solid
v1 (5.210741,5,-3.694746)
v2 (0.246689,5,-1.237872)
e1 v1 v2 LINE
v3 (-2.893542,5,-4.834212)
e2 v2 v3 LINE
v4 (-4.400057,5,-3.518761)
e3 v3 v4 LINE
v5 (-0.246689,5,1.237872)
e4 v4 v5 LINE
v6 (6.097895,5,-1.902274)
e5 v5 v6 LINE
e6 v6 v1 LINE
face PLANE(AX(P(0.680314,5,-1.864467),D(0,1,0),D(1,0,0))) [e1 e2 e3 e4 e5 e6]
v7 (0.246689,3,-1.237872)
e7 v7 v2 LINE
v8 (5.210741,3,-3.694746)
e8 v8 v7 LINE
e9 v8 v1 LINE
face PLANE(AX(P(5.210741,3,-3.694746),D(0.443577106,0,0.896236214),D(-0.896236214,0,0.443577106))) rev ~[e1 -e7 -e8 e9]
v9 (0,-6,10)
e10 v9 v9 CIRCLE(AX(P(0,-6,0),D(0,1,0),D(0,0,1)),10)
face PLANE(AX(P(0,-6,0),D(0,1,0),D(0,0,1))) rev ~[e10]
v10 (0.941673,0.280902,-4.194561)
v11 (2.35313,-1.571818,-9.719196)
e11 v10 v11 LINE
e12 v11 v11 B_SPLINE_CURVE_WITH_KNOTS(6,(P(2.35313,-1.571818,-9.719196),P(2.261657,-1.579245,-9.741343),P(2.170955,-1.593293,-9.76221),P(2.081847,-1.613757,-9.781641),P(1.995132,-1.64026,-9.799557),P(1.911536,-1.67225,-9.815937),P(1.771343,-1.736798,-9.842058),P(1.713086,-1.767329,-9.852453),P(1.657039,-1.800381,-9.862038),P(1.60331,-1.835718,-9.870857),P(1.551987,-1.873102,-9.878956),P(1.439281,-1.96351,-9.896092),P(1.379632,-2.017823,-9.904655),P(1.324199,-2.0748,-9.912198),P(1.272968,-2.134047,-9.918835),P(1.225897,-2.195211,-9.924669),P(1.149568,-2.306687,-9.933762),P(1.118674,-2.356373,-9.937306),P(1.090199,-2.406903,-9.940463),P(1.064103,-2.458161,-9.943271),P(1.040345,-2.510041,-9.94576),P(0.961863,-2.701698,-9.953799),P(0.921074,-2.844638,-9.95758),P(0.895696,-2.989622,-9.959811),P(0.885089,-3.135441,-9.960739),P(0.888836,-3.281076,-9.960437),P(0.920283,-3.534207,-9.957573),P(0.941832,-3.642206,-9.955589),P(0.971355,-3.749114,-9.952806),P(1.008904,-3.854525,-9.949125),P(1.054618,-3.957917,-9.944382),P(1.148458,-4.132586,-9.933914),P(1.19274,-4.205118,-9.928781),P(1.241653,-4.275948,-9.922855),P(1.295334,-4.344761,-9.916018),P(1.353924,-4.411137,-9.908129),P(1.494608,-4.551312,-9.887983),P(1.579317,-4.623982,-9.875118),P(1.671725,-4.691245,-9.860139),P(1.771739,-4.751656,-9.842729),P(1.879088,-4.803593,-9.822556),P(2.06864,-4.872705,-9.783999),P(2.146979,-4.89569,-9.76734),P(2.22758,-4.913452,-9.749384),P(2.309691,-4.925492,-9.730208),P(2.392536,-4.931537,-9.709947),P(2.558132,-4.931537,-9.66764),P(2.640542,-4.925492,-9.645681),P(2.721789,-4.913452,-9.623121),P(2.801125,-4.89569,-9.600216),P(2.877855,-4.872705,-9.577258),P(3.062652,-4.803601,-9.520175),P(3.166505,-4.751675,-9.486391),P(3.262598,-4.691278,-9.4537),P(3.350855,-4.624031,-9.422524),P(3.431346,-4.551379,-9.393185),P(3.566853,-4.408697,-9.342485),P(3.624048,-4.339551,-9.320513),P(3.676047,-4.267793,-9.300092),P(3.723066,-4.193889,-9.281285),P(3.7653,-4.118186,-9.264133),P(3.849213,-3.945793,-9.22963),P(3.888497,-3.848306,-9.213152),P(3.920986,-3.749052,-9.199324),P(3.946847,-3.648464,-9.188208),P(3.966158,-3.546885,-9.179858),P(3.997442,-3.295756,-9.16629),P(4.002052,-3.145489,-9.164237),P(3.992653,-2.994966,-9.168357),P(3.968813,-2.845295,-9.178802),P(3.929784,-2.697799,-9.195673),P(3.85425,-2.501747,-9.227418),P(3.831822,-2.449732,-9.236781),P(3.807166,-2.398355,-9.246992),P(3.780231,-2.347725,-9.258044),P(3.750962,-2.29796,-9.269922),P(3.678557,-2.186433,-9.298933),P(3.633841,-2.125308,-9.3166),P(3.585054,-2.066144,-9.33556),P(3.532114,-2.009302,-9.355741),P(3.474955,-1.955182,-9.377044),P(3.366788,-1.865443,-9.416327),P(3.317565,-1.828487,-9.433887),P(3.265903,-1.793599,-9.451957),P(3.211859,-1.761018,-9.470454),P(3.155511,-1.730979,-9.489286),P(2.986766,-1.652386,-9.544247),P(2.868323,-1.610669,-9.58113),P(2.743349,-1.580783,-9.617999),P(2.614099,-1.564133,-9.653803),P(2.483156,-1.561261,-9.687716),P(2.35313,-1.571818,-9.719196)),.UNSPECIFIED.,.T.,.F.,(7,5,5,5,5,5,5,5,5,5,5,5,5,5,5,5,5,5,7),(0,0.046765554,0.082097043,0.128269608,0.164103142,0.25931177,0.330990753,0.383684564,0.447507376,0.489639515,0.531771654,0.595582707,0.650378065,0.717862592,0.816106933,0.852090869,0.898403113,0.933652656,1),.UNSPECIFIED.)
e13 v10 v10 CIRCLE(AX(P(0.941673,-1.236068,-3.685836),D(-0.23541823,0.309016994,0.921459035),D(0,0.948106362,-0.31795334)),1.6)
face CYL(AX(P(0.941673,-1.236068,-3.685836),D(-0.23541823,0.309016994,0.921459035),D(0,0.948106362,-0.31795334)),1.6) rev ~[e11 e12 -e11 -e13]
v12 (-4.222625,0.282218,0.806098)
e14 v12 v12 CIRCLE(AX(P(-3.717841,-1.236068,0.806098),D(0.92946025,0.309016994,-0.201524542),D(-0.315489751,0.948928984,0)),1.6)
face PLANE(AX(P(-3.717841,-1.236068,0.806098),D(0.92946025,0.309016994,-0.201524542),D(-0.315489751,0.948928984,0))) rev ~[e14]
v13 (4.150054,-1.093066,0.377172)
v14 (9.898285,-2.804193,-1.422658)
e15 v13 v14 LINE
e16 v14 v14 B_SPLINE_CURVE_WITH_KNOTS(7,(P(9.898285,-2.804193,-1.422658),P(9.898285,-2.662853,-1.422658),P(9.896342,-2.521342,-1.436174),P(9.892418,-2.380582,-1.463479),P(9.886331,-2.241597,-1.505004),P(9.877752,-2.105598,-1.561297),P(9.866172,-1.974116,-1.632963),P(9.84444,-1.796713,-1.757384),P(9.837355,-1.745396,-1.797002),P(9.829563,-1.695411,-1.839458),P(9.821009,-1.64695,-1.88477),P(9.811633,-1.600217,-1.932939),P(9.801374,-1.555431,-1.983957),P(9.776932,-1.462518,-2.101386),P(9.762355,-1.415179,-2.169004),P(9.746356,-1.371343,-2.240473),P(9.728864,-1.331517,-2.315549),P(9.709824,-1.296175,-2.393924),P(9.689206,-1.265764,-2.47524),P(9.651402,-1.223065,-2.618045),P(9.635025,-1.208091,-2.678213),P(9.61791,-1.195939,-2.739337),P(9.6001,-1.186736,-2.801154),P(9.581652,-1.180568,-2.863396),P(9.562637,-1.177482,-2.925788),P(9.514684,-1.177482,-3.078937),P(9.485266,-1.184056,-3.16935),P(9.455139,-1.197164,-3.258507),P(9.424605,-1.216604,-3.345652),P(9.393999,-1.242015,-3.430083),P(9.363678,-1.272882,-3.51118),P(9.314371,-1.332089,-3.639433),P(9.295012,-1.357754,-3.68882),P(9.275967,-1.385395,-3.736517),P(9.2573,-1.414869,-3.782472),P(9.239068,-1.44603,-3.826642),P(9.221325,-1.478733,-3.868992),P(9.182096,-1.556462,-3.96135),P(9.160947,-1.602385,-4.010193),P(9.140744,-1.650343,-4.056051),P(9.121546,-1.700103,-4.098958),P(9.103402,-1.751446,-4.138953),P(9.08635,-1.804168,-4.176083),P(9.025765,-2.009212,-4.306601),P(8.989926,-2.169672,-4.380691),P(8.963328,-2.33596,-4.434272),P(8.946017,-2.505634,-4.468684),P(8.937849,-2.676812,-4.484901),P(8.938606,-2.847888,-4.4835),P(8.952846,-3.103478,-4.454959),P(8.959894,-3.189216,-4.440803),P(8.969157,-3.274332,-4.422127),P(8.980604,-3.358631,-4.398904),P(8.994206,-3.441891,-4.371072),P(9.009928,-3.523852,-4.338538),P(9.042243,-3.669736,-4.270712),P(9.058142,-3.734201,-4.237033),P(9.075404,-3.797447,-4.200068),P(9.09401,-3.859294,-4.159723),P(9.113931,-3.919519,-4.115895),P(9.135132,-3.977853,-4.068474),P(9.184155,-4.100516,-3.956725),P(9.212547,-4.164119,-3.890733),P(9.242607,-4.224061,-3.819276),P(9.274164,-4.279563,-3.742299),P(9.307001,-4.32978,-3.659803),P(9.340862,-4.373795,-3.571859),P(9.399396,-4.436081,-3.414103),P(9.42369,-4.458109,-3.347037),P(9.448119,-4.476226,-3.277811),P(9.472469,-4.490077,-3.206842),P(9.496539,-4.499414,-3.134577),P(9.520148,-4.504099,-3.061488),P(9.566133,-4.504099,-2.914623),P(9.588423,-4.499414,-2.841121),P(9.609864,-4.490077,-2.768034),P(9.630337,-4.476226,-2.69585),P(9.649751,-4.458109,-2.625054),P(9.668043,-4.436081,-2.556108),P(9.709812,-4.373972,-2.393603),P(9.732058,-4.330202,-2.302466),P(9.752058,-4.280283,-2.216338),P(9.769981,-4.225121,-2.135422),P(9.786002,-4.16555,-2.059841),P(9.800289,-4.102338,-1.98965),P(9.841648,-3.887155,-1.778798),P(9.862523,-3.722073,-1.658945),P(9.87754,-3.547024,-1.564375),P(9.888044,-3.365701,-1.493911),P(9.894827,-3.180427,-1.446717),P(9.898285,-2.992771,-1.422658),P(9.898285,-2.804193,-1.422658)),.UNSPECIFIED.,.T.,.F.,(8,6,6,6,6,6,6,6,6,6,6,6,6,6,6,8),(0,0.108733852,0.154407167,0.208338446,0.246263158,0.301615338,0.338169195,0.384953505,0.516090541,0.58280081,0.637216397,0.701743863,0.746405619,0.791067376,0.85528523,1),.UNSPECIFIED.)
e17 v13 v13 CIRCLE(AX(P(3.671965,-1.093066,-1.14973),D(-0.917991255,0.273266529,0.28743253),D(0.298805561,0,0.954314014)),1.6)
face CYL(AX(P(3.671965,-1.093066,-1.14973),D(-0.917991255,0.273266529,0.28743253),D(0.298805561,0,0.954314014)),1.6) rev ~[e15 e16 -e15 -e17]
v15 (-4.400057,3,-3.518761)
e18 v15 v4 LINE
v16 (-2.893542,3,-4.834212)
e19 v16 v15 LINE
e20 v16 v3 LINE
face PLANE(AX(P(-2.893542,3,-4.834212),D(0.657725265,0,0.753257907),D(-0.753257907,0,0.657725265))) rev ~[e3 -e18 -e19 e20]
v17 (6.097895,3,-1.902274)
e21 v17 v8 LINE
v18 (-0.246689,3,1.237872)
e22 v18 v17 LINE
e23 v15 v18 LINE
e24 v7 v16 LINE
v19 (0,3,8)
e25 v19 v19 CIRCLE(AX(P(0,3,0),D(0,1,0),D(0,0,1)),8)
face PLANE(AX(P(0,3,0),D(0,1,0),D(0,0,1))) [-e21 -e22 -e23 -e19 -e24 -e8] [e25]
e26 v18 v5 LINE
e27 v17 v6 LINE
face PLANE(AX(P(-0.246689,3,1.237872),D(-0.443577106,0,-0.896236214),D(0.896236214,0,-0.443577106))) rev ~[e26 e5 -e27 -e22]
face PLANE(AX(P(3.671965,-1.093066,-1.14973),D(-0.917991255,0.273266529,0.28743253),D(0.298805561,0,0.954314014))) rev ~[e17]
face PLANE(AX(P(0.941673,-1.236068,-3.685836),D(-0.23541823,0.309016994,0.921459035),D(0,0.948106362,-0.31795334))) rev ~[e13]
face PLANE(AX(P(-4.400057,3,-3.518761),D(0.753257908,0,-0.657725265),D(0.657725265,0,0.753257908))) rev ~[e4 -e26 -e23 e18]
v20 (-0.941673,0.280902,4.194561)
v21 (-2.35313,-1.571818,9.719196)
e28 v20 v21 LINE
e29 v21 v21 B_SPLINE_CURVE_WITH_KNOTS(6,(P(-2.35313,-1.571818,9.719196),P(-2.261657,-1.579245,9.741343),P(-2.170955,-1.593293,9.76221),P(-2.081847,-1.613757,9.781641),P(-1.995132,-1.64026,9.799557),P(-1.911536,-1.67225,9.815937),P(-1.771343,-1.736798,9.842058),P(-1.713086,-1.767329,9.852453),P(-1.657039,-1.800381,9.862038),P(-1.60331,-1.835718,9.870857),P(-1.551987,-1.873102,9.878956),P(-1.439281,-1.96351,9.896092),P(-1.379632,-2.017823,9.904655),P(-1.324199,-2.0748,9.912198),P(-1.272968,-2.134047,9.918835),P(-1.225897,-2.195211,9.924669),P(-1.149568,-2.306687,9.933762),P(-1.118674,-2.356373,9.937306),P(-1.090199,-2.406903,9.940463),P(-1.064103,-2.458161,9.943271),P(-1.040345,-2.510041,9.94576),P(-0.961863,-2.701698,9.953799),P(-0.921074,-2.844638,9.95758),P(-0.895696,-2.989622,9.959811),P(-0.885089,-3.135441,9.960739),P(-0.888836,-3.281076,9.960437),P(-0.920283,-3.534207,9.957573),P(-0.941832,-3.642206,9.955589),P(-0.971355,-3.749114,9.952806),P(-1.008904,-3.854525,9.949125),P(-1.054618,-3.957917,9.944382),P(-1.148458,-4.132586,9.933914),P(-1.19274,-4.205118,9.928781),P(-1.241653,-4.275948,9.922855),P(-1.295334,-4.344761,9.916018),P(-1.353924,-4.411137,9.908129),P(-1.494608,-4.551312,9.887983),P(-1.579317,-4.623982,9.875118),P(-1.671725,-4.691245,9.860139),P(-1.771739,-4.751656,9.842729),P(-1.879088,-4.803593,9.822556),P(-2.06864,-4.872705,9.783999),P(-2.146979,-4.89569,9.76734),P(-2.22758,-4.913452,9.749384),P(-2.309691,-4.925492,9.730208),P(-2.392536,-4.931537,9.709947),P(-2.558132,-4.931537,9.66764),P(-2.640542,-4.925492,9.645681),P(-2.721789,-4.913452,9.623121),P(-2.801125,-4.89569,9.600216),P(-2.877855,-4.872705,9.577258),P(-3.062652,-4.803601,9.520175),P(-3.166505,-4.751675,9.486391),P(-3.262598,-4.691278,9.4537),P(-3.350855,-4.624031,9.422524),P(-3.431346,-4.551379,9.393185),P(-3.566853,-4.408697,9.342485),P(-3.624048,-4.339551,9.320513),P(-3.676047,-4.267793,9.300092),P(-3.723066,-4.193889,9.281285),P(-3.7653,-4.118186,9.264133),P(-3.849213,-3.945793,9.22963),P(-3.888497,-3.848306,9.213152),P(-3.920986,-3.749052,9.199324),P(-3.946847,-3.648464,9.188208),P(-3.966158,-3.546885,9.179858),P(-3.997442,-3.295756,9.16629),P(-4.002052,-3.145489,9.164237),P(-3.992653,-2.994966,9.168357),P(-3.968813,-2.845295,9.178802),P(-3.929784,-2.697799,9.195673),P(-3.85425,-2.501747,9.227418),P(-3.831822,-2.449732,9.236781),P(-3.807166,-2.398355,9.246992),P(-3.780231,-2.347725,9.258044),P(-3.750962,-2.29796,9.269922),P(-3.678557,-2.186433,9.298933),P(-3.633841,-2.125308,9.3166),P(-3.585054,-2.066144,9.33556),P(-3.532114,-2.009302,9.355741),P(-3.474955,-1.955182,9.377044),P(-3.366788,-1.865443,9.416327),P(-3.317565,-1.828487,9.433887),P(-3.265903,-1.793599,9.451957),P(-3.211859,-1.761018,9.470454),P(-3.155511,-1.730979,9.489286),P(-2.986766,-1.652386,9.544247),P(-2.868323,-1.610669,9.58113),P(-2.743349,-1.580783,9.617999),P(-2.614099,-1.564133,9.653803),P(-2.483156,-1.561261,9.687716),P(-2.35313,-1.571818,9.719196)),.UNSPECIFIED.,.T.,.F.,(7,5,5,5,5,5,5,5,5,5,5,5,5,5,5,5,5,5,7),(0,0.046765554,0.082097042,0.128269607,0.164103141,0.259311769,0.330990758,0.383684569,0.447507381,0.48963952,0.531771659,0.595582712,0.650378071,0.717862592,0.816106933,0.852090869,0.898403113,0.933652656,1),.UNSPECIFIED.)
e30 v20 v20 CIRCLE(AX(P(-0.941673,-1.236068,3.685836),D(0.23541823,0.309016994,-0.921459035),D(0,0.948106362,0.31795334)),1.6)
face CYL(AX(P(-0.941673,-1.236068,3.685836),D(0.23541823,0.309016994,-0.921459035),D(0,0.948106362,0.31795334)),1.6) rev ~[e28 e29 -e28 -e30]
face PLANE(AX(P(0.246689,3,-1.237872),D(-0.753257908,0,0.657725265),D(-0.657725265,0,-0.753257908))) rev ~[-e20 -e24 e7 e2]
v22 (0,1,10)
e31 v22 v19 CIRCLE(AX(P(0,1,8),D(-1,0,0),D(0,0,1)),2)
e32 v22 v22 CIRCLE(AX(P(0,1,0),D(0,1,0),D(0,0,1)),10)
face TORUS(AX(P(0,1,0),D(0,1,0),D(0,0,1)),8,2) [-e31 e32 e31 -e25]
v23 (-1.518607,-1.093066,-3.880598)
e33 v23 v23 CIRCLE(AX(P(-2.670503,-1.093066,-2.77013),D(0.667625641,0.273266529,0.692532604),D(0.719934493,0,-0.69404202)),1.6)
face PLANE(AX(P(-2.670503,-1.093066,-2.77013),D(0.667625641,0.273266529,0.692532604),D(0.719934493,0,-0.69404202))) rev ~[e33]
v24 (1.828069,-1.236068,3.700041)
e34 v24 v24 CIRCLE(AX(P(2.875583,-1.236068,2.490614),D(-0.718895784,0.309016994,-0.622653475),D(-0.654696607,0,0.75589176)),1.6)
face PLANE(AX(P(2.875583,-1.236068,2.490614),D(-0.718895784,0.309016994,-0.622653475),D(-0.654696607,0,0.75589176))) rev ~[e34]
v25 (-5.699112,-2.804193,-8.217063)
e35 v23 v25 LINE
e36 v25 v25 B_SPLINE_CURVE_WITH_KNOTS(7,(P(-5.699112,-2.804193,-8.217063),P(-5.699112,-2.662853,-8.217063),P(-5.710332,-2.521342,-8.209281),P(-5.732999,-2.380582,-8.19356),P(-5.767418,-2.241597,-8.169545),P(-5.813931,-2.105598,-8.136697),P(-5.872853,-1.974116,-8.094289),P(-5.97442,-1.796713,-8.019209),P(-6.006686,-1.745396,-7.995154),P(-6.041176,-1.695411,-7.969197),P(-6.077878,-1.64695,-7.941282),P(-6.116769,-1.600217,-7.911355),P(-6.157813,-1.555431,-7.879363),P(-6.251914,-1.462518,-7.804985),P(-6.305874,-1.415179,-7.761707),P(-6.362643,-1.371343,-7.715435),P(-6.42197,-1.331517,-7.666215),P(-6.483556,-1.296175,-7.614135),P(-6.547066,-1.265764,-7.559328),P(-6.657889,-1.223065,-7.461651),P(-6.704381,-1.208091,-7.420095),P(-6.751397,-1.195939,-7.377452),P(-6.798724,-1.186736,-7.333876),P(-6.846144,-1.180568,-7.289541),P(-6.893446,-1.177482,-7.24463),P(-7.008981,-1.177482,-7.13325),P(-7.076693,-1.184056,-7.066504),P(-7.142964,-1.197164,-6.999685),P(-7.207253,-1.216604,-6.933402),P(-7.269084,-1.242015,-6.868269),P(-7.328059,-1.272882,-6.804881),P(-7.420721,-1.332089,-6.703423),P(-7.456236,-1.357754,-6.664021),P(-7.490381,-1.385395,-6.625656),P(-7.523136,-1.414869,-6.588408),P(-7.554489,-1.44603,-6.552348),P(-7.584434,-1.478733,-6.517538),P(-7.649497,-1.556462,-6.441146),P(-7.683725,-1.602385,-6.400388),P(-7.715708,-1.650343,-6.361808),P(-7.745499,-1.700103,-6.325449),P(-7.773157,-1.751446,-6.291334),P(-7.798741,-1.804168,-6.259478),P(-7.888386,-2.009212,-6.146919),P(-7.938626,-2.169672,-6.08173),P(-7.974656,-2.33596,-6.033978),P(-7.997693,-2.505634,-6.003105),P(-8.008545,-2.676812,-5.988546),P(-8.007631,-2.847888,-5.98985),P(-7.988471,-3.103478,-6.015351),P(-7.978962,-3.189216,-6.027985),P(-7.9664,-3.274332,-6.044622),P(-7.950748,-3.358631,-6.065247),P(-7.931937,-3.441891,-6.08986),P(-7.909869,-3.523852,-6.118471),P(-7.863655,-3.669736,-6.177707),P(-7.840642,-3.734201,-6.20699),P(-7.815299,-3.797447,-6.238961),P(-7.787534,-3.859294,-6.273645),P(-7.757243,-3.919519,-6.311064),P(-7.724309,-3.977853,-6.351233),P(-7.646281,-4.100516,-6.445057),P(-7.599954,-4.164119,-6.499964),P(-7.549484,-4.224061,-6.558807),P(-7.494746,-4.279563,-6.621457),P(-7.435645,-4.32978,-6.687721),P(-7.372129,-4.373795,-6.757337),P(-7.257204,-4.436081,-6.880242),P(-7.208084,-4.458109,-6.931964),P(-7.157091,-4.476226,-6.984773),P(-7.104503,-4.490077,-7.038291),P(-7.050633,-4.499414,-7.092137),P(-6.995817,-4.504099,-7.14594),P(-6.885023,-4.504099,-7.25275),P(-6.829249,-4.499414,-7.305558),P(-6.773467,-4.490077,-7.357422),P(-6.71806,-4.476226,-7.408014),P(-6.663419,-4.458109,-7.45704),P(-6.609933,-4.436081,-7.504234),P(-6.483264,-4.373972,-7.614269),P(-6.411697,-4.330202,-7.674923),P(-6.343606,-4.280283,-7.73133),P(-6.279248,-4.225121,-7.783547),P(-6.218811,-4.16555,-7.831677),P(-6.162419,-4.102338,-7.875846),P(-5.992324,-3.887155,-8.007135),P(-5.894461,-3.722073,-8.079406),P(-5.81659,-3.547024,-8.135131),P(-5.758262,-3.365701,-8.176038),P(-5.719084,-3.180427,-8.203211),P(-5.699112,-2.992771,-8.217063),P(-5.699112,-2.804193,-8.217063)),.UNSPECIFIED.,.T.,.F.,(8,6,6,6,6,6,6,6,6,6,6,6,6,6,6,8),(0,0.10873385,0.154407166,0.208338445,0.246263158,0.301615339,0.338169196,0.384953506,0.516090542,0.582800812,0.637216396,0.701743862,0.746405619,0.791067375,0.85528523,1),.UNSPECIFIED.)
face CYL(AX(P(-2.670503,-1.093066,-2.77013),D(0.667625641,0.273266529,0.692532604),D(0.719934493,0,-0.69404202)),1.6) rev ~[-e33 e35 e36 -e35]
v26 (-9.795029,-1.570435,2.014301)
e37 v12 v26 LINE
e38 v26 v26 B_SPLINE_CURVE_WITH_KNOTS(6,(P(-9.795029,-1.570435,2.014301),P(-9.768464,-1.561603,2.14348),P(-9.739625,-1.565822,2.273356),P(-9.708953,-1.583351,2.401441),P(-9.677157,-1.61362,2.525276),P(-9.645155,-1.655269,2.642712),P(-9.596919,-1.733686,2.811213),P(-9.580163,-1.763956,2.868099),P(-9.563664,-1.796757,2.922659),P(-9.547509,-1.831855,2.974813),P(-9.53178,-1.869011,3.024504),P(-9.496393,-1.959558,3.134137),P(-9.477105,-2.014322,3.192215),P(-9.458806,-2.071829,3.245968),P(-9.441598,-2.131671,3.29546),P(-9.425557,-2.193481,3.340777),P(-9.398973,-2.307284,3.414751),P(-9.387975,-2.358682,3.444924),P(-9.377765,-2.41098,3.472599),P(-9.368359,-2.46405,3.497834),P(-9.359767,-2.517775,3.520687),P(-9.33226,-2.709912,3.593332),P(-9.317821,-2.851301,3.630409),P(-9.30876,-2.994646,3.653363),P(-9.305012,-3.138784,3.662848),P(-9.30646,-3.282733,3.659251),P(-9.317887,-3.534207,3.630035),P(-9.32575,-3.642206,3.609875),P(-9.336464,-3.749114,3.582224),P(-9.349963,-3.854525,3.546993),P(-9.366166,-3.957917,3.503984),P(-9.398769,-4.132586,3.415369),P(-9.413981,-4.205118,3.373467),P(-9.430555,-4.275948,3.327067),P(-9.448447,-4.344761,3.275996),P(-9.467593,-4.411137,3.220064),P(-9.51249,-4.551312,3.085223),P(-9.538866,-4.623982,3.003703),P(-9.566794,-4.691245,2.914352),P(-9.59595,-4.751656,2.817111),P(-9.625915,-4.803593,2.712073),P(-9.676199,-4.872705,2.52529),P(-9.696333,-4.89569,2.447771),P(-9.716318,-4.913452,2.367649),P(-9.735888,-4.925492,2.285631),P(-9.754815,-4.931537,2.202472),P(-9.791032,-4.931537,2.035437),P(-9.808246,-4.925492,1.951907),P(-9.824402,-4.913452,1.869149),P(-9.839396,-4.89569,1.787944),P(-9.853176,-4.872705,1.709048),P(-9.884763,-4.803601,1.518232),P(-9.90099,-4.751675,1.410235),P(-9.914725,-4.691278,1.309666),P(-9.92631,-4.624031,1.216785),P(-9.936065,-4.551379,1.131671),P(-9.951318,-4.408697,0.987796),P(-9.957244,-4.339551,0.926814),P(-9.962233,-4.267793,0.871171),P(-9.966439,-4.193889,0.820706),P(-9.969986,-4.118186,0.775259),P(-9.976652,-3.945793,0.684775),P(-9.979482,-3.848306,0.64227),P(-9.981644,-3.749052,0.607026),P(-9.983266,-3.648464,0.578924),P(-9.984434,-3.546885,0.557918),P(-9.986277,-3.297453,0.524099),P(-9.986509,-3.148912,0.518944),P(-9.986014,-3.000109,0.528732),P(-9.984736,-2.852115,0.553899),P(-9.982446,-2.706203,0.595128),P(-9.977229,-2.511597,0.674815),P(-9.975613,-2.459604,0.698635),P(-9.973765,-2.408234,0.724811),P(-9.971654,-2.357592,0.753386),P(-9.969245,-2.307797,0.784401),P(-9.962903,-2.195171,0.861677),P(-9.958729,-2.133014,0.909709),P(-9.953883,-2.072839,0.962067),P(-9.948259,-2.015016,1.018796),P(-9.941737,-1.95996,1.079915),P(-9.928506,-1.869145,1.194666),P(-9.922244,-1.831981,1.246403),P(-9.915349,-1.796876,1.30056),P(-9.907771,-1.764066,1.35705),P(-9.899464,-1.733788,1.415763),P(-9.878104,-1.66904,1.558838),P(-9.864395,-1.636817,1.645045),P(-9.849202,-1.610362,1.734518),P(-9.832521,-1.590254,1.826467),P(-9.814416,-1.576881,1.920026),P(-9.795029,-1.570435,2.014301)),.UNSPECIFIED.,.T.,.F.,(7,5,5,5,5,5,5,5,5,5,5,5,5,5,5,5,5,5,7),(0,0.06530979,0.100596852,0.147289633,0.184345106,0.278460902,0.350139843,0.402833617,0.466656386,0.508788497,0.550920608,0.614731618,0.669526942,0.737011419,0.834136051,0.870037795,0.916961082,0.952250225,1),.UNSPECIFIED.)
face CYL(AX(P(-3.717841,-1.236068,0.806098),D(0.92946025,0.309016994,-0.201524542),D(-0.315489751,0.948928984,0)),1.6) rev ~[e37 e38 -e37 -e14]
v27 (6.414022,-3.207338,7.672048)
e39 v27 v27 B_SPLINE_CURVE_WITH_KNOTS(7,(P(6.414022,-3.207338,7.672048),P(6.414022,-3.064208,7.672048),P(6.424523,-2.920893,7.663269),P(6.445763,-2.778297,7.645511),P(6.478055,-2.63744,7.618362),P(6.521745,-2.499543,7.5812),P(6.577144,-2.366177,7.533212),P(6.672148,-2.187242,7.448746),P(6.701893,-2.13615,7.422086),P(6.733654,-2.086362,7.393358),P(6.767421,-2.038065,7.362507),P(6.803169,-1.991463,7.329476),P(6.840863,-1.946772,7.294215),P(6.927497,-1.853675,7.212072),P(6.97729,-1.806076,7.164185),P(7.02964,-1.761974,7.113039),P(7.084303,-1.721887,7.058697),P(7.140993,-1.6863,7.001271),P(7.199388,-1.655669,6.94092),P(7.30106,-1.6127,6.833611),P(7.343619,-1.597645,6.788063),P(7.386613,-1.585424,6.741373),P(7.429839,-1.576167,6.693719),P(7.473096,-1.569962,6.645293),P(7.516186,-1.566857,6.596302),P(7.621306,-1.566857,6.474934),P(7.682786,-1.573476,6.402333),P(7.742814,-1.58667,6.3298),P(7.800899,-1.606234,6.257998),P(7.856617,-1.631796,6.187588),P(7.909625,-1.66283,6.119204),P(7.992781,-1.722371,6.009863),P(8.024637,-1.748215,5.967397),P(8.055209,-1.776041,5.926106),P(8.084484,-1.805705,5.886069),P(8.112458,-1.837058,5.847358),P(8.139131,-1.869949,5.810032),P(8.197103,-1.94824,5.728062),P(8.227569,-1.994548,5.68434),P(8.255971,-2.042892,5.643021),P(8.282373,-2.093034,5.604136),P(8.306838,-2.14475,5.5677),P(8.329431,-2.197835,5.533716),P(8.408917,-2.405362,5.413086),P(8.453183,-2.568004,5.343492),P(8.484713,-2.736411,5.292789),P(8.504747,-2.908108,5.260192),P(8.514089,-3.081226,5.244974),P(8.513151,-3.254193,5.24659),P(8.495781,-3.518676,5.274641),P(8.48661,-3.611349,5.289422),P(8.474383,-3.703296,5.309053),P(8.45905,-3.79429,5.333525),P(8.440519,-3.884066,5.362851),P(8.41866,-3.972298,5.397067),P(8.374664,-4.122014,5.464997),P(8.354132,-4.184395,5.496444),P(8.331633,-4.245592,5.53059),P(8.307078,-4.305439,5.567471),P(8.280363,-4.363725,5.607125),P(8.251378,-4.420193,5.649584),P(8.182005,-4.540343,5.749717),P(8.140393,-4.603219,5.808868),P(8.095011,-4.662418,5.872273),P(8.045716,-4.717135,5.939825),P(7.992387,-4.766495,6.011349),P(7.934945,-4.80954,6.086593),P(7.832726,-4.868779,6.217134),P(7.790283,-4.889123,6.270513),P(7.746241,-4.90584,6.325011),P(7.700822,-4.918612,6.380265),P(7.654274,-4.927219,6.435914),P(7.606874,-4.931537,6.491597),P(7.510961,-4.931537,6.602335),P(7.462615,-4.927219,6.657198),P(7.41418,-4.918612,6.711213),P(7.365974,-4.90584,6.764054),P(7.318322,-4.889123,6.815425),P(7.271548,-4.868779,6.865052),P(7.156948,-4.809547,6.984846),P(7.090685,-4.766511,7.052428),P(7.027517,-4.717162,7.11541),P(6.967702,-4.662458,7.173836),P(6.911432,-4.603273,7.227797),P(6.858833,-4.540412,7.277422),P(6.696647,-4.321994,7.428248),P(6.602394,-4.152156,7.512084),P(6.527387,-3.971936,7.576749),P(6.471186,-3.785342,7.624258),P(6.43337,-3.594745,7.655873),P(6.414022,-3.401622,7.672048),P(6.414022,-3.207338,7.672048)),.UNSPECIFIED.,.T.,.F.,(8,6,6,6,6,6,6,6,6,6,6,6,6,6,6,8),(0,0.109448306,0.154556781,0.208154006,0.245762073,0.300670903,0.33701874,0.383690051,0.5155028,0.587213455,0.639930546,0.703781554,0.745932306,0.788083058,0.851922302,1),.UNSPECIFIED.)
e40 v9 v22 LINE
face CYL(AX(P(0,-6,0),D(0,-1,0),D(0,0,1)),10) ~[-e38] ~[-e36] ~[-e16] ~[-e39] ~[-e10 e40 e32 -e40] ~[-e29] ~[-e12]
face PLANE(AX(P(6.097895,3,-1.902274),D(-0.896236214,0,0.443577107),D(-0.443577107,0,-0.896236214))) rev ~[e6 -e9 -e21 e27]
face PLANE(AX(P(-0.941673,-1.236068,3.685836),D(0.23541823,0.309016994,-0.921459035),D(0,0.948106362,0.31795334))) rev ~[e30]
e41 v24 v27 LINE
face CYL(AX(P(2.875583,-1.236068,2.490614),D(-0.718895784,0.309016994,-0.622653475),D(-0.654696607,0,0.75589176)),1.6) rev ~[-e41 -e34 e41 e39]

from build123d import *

# Parameters (mm, degrees)
BASE_DEPTH          = 3
BASE_DEPTH_BACK     = 6
SKETCH1_R           = 10
SKETCH3_R           = 1.6
HOLE2_DEPTH         = 19.1581212
HOLE2MIRROR_COUNT   = 2
SKETCH4_R           = 1.6
HOLE3_DEPTH         = 19.100993715
SKETCH5_R           = 1.6
CUT_EXTRUDE1_DEPTH  = 19.311666101
SKETCH6_R           = 1.6
CUT_EXTRUDE2_DEPTH  = 19.560472272
SKETCH7_R           = 1.6
CUT_EXTRUDE3_DEPTH  = 19.646604846
FILLET1_R           = 2
EXTRUDE_THIN1_DEPTH = 2


with BuildPart() as part:
    # Sketch1 → base (new, two sides: drawn at the far end of the back side and taken through both)
    with BuildSketch(Plane(origin=(0, 0, 0), x_dir=(1, 0, 0), z_dir=(0, 1, 0)).offset(-BASE_DEPTH_BACK)):
        Circle(SKETCH1_R)
    extrude(amount=BASE_DEPTH + BASE_DEPTH_BACK)

    # Sketch3 → hole2 (cut, through all)
    with BuildSketch(Plane(origin=(-0.941672921, -1.236067977, 3.685836142), x_dir=(-0.9718935871364875, 0.07382318789513377, -0.22354639834264944), z_dir=(0.23541823021467095, 0.3090169943749464, -0.921459035481267))):
        Circle(SKETCH3_R)
    hole2 = extrude(amount=-HOLE2_DEPTH, mode=Mode.SUBTRACT)

    # hole2mirror: hole2 ×2 about axis
    hole2mirror_axis = Axis((0, 5.5, 0), (0, -1, 0))
    for i in range(1, HOLE2MIRROR_COUNT):
        add(hole2.rotate(hole2mirror_axis, i * 360 / HOLE2MIRROR_COUNT), mode=Mode.SUBTRACT)

    # Sketch4 → hole3 (cut, through all)
    with BuildSketch(Plane(origin=(-3.717841, -1.236067977, 0.806098168), x_dir=(-0.19123247894507908, -0.06357892752956036, -0.979483465389136), z_dir=(0.9294602499075393, 0.30901699437494623, -0.20152454200243008))):
        Circle(SKETCH4_R)
    extrude(amount=-HOLE3_DEPTH, mode=Mode.SUBTRACT)

    # Sketch5 → Cut-Extrude1 (cut, through all)
    with BuildSketch(Plane(origin=(3.671965021, -1.093066116, -1.149730122), x_dir=(0.2754858058396647, -0.08200628219437099, 0.9578008876909271), z_dir=(-0.9179912552075574, 0.27326652891267317, 0.2874325304110031))):
        Circle(SKETCH5_R)
    extrude(amount=-CUT_EXTRUDE1_DEPTH, mode=Mode.SUBTRACT)

    # Sketch6 → Cut-Extrude2 (cut, through all)
    with BuildSketch(Plane(origin=(2.875583134, -1.236067977, 2.490613899), x_dir=(-0.5720437997755544, 0.24589274231852376, 0.782497699941298), z_dir=(-0.7188957835464718, 0.30901699437494723, -0.6226534747245682))):
        Circle(SKETCH6_R)
    extrude(amount=-CUT_EXTRUDE2_DEPTH, mode=Mode.SUBTRACT)

    # Sketch7 → Cut-Extrude3 (cut, through all)
    with BuildSketch(Plane(origin=(-2.670502563, -1.093066116, -2.770130417), x_dir=(0.7444971483747472, -0.2450509606833859, -0.6210265877802813), z_dir=(0.6676256406564008, 0.2732665289126714, 0.6925326043690294))):
        Circle(SKETCH7_R)
    extrude(amount=-CUT_EXTRUDE3_DEPTH, mode=Mode.SUBTRACT)

    # Fillet1
    fillet1_edges = [part.edges().sort_by_distance(p)[0] for p in [
        (-10, 3, 0),
    ]]
    fillet(fillet1_edges, radius=FILLET1_R)

    # Sketch9 → Extrude-Thin1 (add)
    with BuildSketch(Plane(origin=(0, 3, 0), x_dir=(1, 0, 0), z_dir=(0, 1, 0))):
        Polygon((-4.40005736, 3.518760981), (-0.246688962, -1.237871846), (6.097894842, 1.902273668), (5.210740629, 3.694746095), (0.246688962, 1.237871846), (-2.893541545, 4.834211512), align=None)
    extrude(amount=EXTRUDE_THIN1_DEPTH)


solid = part.part
